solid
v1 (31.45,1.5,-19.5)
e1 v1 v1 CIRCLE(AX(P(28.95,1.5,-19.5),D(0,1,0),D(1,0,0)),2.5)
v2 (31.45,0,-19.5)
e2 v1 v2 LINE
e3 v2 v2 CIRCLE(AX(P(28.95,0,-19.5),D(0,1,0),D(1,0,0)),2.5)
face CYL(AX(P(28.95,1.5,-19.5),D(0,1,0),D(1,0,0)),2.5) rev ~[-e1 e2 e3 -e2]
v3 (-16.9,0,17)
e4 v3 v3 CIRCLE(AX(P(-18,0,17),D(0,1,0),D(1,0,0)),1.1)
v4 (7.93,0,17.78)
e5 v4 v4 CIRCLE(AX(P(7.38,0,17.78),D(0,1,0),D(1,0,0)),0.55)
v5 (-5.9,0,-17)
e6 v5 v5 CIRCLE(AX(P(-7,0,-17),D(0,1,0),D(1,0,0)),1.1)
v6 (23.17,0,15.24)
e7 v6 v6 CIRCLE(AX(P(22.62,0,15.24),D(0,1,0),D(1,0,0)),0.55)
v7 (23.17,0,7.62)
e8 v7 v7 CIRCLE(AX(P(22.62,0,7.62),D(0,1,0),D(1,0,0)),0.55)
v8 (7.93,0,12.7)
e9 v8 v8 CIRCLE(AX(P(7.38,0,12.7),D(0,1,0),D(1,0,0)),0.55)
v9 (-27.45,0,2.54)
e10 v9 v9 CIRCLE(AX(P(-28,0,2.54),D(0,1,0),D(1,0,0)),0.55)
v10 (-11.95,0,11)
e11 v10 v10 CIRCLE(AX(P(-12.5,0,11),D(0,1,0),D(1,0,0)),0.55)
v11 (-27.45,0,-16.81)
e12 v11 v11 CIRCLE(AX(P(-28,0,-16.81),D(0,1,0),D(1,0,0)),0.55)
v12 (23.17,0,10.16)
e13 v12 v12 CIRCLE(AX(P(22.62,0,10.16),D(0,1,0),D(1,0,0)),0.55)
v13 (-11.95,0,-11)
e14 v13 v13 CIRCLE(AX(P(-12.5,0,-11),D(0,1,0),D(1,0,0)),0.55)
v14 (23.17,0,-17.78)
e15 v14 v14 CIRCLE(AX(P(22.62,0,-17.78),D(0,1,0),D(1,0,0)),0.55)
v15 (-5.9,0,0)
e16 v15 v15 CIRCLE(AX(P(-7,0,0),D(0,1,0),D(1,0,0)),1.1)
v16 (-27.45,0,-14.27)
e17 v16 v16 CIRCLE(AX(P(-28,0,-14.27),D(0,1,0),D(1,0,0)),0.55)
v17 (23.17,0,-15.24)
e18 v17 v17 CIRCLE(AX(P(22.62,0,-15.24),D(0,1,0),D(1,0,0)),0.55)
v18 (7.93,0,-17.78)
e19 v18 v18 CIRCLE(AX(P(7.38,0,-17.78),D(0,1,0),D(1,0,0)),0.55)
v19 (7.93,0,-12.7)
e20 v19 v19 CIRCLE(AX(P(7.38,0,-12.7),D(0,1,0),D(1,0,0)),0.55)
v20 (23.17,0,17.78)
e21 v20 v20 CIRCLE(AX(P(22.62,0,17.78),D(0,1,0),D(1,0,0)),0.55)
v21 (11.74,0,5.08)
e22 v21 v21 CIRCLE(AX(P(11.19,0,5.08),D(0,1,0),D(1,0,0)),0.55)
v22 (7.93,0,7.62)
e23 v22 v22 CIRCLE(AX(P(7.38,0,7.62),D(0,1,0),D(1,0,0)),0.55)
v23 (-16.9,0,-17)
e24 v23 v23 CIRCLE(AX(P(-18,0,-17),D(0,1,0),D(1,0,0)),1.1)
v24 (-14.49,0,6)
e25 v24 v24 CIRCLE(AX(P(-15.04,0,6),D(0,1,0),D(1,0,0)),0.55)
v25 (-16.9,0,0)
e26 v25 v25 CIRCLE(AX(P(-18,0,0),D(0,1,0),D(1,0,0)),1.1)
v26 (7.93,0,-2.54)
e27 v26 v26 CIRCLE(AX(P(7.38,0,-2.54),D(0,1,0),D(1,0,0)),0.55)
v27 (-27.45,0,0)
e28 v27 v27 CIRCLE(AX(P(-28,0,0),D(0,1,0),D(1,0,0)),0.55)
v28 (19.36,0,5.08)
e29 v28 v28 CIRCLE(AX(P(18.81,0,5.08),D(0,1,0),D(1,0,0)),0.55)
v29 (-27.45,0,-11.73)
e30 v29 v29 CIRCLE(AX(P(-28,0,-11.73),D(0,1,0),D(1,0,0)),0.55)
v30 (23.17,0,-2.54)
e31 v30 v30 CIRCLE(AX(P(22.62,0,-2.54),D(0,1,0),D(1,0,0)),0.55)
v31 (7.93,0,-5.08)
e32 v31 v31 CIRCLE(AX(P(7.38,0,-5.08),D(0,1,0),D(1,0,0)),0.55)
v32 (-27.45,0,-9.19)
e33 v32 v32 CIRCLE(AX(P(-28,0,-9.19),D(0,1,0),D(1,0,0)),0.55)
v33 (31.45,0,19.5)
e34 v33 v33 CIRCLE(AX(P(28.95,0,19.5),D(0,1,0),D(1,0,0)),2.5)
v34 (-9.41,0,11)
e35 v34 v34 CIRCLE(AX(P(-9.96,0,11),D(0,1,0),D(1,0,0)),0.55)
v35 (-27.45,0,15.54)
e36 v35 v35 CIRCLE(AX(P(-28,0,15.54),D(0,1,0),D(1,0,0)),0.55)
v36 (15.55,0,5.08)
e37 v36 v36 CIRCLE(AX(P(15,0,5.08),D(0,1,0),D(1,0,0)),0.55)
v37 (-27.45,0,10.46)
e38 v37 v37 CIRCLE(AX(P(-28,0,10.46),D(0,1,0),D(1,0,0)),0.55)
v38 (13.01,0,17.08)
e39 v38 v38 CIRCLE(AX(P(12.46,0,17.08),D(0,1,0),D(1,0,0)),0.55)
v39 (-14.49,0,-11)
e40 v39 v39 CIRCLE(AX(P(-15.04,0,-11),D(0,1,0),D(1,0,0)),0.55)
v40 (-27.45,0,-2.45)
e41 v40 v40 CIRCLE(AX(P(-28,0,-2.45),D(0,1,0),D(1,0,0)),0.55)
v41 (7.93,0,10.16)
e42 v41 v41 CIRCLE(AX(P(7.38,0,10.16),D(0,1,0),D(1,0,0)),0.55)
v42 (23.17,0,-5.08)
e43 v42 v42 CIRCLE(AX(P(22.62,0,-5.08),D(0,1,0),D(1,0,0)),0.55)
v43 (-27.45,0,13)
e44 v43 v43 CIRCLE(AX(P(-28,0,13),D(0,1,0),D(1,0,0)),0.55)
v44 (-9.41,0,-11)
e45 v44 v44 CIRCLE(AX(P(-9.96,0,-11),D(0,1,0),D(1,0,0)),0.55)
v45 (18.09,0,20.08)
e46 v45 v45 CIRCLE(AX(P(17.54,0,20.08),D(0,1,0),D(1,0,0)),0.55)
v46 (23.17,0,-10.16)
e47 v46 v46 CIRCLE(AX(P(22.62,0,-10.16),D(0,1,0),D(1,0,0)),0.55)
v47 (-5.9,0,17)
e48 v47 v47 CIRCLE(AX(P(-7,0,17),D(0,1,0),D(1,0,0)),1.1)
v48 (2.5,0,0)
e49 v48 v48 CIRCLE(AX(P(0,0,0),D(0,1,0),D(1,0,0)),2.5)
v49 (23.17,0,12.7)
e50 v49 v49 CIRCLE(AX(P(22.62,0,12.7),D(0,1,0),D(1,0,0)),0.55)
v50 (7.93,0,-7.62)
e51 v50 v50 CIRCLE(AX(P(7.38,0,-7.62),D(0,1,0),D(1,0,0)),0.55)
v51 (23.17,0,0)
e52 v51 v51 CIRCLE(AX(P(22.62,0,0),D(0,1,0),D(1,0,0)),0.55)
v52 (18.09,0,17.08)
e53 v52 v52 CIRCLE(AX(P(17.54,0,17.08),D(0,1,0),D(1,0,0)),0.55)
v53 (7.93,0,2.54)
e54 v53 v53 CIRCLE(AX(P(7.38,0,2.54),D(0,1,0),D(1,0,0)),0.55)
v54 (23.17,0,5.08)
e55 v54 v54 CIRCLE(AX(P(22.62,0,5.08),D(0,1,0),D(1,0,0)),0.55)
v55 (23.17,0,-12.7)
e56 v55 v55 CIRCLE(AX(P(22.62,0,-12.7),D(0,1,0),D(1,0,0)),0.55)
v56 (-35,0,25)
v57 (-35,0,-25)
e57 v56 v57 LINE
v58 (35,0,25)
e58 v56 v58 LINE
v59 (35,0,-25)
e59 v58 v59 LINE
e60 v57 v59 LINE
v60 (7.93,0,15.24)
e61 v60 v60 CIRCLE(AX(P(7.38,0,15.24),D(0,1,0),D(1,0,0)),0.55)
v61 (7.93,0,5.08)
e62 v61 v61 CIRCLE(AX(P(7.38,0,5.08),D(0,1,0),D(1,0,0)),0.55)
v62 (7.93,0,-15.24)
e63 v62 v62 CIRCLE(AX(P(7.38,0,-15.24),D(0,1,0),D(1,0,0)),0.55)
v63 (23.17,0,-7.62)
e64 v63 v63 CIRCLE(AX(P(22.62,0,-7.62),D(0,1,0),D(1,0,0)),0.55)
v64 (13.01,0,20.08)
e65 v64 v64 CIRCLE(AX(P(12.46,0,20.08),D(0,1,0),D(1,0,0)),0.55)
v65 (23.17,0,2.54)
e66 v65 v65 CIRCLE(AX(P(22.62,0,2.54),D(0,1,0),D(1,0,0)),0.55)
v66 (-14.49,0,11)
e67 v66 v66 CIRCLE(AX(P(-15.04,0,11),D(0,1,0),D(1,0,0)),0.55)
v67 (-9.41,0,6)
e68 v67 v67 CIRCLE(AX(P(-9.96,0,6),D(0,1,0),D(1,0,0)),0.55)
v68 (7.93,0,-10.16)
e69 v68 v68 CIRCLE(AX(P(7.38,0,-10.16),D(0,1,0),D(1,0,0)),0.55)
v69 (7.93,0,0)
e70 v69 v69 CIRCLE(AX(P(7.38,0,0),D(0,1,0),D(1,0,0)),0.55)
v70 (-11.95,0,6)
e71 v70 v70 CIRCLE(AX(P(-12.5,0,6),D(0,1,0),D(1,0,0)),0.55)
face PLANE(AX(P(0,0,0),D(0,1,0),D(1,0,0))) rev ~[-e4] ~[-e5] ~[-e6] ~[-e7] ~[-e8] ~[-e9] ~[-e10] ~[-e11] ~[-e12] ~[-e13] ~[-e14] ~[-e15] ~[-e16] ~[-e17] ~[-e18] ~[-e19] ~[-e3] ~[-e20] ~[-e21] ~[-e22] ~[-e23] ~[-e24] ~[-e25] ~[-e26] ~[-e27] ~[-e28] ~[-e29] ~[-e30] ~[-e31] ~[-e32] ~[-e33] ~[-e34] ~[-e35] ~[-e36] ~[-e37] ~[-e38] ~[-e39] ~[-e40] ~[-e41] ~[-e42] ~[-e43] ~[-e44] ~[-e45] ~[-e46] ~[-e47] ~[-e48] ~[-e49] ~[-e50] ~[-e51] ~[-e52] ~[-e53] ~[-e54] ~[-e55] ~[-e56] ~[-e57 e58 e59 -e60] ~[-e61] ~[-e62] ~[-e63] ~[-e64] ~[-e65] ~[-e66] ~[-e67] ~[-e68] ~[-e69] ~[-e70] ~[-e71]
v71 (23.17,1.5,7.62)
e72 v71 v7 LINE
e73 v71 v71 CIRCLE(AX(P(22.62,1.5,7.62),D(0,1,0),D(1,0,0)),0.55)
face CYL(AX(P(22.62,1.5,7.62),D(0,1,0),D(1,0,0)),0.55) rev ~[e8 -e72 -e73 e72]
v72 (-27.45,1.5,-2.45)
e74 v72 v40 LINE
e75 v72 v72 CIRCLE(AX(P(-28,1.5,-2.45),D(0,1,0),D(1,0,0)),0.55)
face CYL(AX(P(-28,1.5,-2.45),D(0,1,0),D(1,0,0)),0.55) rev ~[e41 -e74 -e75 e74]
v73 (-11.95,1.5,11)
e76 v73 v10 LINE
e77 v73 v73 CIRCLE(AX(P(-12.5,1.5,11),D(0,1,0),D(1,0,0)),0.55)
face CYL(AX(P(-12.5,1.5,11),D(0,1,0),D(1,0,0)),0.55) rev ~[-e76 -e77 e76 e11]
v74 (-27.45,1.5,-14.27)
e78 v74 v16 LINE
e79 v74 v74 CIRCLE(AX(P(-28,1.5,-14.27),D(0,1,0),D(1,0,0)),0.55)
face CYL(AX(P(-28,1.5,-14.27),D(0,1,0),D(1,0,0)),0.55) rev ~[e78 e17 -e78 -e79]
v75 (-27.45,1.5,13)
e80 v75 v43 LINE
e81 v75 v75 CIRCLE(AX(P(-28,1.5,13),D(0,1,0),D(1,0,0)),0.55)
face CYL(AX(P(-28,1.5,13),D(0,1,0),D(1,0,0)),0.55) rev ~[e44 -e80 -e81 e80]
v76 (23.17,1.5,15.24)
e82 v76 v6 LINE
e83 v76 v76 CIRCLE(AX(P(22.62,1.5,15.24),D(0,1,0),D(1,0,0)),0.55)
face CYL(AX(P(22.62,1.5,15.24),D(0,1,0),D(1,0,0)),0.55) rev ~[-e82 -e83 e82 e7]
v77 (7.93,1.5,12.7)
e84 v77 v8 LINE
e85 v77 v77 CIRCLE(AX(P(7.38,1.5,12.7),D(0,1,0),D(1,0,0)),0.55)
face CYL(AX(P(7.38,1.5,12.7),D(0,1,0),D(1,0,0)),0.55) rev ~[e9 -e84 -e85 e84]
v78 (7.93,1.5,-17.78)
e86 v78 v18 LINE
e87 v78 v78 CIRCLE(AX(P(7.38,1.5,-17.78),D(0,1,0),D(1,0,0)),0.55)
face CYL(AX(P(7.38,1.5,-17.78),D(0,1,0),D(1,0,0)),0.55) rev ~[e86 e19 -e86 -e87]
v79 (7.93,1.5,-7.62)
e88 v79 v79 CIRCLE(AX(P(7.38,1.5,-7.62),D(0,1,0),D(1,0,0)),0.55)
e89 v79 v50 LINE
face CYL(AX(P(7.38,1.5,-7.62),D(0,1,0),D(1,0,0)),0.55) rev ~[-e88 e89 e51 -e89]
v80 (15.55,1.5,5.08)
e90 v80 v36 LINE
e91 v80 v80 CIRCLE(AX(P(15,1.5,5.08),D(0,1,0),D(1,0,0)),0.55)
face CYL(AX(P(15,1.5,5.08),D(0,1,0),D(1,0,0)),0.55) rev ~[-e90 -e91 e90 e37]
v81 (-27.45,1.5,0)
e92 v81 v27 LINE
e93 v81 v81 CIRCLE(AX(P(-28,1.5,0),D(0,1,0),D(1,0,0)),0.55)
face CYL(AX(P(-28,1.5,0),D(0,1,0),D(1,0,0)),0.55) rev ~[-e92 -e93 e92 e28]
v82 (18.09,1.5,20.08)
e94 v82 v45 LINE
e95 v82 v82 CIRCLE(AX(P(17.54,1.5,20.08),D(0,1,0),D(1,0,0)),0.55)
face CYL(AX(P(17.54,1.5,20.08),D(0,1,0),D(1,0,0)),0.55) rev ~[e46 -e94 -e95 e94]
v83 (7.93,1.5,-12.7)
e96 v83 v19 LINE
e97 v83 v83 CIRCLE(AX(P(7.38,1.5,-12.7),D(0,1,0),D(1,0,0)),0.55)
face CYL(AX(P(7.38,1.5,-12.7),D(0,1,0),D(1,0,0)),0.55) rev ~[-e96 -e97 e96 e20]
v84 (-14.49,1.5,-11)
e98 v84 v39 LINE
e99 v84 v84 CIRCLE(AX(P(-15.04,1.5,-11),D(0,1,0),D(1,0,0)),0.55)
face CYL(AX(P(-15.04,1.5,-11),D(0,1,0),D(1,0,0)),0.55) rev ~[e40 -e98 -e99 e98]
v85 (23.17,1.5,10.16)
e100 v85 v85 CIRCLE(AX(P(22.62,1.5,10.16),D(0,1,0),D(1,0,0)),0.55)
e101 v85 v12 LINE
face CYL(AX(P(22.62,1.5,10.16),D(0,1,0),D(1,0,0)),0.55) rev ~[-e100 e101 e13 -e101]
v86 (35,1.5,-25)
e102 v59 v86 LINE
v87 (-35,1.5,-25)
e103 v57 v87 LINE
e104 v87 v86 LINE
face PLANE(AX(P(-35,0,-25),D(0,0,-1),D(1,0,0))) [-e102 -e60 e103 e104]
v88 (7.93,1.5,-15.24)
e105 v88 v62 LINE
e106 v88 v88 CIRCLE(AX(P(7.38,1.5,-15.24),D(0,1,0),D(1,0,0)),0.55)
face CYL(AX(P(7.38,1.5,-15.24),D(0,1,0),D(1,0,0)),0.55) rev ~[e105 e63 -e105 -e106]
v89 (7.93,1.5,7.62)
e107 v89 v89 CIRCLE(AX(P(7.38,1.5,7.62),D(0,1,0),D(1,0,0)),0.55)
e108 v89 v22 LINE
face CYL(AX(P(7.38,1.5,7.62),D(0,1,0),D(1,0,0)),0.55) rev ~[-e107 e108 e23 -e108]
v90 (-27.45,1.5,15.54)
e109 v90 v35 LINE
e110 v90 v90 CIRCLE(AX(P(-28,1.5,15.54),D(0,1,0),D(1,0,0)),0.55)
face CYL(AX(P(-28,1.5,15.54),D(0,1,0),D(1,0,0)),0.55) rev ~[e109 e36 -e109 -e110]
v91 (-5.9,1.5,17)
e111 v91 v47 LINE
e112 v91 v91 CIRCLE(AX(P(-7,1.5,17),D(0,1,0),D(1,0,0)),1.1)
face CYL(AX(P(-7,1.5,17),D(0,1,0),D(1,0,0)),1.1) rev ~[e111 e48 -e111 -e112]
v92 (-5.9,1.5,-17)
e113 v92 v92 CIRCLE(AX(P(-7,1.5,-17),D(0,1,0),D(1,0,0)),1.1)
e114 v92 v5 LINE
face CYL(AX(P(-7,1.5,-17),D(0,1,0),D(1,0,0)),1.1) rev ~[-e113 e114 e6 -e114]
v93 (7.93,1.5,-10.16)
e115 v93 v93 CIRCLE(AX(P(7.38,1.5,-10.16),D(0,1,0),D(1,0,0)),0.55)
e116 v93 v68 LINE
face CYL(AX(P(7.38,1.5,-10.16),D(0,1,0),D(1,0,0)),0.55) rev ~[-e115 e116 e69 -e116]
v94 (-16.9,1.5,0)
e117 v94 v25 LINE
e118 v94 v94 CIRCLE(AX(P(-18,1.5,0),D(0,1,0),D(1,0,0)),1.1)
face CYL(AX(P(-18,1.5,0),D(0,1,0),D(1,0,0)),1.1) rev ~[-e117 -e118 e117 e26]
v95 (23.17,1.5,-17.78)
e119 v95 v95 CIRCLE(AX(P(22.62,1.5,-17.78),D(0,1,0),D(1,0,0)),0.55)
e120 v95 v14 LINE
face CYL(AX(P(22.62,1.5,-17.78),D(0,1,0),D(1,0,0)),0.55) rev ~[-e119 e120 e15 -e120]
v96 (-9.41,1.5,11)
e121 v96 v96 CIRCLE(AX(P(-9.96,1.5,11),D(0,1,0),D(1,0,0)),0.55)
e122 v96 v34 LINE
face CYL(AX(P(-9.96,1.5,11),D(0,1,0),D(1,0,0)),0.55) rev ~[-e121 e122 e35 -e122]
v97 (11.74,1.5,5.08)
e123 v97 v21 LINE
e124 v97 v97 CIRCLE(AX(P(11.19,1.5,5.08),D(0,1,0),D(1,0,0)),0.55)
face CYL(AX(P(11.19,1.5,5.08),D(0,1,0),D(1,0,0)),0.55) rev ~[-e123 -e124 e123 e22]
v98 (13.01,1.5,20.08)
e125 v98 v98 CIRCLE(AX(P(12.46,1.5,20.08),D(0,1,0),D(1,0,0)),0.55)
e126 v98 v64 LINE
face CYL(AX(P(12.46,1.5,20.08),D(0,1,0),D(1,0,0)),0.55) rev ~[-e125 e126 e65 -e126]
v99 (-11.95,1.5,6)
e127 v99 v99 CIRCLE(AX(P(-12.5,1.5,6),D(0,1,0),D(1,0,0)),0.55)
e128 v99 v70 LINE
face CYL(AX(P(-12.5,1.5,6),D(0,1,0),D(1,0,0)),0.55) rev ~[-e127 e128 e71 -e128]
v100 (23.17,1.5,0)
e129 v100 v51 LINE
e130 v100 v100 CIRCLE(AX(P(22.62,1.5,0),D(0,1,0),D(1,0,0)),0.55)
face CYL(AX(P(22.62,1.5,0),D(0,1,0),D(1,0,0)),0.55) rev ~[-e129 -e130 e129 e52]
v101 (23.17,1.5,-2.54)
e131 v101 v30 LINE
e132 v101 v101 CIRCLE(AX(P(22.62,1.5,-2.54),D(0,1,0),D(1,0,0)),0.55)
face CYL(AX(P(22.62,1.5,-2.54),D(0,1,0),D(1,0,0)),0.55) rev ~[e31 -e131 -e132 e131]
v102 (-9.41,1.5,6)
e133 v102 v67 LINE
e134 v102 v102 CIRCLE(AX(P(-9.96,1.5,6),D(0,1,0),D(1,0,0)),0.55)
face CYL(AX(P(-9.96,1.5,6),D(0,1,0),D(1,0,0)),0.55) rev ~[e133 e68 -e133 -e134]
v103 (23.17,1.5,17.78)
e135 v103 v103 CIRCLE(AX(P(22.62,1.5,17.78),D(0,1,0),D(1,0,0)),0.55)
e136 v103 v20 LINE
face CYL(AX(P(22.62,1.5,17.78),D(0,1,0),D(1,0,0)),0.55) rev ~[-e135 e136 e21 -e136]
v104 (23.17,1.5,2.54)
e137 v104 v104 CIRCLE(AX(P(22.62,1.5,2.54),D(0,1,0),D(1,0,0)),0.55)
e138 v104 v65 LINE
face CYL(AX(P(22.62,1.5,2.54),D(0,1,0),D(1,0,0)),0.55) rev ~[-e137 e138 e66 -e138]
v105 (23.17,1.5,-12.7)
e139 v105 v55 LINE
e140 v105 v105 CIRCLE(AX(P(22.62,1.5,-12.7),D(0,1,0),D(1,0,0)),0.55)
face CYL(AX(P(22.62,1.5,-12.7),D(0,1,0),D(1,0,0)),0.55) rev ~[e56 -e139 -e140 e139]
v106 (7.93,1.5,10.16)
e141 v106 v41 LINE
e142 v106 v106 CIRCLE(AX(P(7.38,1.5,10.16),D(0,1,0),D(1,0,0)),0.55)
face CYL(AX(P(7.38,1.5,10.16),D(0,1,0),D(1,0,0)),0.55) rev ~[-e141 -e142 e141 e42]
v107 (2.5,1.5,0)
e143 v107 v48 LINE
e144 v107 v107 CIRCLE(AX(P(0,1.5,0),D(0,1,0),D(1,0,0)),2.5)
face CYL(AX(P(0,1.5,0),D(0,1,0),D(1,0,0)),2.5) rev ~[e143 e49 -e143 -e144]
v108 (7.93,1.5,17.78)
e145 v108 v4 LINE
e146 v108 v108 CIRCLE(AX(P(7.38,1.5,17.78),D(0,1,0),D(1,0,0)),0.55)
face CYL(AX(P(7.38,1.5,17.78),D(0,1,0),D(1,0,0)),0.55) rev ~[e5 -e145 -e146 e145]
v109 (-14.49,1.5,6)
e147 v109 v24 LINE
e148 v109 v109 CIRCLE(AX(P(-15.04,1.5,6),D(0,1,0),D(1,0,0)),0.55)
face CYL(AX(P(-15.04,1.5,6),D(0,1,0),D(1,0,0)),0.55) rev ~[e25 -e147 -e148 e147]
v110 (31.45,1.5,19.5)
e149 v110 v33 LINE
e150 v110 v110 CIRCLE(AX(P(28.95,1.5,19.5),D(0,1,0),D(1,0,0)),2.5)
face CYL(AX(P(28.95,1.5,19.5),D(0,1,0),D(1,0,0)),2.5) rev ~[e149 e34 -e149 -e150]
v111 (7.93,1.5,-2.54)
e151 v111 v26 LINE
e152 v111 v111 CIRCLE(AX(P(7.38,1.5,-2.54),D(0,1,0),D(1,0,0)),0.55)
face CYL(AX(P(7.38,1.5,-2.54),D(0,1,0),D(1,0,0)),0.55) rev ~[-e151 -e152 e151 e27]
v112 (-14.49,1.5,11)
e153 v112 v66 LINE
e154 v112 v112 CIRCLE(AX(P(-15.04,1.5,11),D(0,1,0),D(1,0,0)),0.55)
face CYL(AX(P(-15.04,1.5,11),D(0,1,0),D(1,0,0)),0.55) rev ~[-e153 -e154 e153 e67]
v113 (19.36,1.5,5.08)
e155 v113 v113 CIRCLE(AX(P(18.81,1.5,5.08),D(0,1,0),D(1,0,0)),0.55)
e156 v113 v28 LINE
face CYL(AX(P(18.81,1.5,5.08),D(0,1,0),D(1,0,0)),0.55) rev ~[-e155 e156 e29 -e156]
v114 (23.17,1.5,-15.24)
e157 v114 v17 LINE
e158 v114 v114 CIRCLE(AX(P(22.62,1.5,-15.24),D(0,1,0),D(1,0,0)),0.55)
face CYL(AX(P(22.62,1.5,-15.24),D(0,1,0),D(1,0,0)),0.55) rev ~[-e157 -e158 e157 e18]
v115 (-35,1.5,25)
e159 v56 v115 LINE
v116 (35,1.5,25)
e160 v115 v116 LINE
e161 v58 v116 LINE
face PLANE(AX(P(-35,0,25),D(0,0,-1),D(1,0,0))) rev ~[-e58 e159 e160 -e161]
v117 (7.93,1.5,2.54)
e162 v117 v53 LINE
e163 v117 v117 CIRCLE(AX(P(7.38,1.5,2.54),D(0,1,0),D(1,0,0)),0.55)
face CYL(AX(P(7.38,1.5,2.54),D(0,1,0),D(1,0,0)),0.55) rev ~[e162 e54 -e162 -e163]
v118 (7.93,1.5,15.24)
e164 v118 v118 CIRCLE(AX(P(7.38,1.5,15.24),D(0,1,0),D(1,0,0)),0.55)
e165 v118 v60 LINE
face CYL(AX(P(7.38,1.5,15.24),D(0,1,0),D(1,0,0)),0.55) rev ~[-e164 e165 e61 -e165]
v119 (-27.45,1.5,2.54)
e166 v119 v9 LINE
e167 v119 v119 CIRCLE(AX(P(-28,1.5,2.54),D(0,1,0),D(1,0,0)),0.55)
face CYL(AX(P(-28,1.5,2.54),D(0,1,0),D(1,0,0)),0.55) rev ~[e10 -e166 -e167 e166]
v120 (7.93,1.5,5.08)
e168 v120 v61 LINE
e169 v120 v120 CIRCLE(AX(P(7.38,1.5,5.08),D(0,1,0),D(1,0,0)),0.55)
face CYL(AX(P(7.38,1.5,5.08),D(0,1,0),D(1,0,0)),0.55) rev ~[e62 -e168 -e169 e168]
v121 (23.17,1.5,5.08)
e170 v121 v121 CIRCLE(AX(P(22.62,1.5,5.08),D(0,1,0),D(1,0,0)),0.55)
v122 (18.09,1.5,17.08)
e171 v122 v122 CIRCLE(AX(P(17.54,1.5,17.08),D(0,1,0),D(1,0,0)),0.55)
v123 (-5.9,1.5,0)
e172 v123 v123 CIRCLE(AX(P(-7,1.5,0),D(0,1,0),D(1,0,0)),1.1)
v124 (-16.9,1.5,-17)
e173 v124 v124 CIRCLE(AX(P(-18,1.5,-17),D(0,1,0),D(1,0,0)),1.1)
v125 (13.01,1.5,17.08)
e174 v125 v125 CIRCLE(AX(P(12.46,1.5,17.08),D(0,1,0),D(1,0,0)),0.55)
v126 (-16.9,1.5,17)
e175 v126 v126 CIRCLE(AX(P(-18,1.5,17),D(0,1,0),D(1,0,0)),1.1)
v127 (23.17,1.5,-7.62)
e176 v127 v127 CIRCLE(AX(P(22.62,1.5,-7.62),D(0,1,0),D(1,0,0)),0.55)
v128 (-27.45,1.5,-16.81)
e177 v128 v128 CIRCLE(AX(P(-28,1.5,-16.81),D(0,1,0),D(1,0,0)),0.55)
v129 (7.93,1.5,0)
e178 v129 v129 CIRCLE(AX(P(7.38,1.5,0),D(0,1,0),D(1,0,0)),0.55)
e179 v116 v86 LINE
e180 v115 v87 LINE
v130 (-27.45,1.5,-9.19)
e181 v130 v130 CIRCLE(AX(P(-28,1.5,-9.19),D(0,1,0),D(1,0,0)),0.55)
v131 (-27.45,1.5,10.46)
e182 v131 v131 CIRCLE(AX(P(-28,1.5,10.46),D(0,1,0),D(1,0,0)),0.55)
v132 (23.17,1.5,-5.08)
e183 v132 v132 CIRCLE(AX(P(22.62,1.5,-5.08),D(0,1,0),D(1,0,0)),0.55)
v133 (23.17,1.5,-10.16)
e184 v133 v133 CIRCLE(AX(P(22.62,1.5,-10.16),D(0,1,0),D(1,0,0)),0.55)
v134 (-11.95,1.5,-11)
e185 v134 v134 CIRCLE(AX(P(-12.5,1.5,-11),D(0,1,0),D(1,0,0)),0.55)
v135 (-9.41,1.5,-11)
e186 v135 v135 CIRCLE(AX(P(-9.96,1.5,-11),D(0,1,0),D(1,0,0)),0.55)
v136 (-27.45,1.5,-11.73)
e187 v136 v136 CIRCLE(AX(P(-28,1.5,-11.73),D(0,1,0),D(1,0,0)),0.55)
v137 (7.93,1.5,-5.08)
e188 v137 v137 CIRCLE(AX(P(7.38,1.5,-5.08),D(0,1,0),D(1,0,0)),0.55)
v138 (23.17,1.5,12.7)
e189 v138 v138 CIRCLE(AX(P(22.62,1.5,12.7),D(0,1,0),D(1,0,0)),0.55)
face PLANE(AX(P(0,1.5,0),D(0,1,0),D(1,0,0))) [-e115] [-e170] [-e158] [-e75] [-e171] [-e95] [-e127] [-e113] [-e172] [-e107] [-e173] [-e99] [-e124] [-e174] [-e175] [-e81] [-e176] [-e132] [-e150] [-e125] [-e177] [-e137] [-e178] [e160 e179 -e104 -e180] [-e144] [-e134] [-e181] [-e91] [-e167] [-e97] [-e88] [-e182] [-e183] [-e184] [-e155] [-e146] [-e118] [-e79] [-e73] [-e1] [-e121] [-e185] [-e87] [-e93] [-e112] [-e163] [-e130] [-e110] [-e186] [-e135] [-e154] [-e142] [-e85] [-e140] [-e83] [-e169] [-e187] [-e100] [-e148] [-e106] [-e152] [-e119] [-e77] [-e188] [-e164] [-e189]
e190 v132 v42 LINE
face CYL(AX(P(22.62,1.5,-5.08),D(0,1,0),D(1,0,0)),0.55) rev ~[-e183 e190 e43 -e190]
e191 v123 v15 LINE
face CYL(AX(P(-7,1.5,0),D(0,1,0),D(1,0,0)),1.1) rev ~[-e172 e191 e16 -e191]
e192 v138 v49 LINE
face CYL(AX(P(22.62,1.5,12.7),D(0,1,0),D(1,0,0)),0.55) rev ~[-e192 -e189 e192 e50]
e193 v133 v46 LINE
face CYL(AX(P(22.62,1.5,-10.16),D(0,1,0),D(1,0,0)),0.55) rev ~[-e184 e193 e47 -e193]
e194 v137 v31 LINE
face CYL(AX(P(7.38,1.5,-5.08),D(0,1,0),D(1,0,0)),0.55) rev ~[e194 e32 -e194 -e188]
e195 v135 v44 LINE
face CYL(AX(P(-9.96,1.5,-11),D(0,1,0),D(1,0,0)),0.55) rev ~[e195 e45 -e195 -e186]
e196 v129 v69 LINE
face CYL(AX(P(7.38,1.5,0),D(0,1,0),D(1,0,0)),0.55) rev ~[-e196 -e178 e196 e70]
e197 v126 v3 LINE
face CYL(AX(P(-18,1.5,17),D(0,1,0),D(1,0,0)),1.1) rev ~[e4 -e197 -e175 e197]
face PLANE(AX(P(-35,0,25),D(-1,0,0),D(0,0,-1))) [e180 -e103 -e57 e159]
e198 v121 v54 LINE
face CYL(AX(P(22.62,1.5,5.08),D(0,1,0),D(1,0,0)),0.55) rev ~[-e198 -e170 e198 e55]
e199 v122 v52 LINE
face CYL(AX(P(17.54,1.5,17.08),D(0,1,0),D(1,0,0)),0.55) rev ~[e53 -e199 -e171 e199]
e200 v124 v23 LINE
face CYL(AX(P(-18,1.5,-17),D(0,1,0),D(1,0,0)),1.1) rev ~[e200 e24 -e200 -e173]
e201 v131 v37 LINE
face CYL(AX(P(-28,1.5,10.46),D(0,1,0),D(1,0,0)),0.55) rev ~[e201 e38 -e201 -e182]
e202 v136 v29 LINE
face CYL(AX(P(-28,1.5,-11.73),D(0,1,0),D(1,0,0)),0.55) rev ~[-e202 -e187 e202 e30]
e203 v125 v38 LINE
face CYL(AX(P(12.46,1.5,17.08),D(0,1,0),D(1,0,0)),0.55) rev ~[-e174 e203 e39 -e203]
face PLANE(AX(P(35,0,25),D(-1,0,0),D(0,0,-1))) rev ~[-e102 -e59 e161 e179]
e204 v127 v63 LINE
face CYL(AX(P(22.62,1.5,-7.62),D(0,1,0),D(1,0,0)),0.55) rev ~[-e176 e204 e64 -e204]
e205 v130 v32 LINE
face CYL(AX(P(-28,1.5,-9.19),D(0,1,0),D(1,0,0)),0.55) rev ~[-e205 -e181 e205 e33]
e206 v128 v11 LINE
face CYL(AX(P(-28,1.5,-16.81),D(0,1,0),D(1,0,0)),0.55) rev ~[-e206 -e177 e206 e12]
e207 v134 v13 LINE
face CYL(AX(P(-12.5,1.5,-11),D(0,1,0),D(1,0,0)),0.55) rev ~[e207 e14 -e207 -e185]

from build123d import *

# Parameters (mm, degrees)
SKETCH1_W           = 70
SKETCH1_H           = 50
BOSS_EXTRUDE1_DEPTH = 1.5
SKETCH2_R           = 2.5
CUT_EXTRUDE1_DEPTH  = 2.5
SKETCH4_R           = 1.1
SKETCH4_R_2         = 0.55
CUT_EXTRUDE2_DEPTH  = 2.5


with BuildPart() as part:
    # Sketch1 → Boss-Extrude1 (new body)
    with BuildSketch(Plane(origin=(0, 0, 0), x_dir=(1, 0, 0), z_dir=(0, 1, 0))):
        Rectangle(SKETCH1_W, SKETCH1_H)
    extrude(amount=BOSS_EXTRUDE1_DEPTH)

    # Sketch2 → Cut-Extrude1 (cut, through all)
    with BuildSketch(Plane(origin=(0, 1.5, 0), x_dir=(1, 0, 0), z_dir=(0, 1, 0))):
        Circle(SKETCH2_R)
        with Locations((28.95, 19.5)):
            Circle(SKETCH2_R)
        with Locations((28.95, -19.5)):
            Circle(SKETCH2_R)
    extrude(amount=-CUT_EXTRUDE1_DEPTH, mode=Mode.SUBTRACT)

    # Sketch4 → Cut-Extrude2 (cut, through all)
    with BuildSketch(Plane(origin=(0, 1.5, 0), x_dir=(1, 0, 0), z_dir=(0, 1, 0))):
        with Locations((-18, 0)):
            Circle(SKETCH4_R)
        with Locations((-7, 0)):
            Circle(SKETCH4_R)
        with Locations((-12.5, -6)):
            Circle(SKETCH4_R_2)
        with Locations((-9.96, -6)):
            Circle(SKETCH4_R_2)
        with Locations((-15.04, -6)):
            Circle(SKETCH4_R_2)
        with Locations((-12.5, 11)):
            Circle(SKETCH4_R_2)
        with Locations((-9.96, 11)):
            Circle(SKETCH4_R_2)
        with Locations((-15.04, 11)):
            Circle(SKETCH4_R_2)
        with Locations((-18, 17)):
            Circle(SKETCH4_R)
        with Locations((-7, 17)):
            Circle(SKETCH4_R)
        with Locations((-18, -17)):
            Circle(SKETCH4_R)
        with Locations((-7, -17)):
            Circle(SKETCH4_R)
        with Locations((7.38, 0)):
            Circle(SKETCH4_R_2)
        with Locations((22.62, 0)):
            Circle(SKETCH4_R_2)
        with Locations((7.38, 2.54)):
            Circle(SKETCH4_R_2)
        with Locations((7.38, 5.08)):
            Circle(SKETCH4_R_2)
        with Locations((7.38, 7.62)):
            Circle(SKETCH4_R_2)
        with Locations((7.38, 10.16)):
            Circle(SKETCH4_R_2)
        with Locations((7.38, 12.7)):
            Circle(SKETCH4_R_2)
        with Locations((7.38, 15.24)):
            Circle(SKETCH4_R_2)
        with Locations((7.38, 17.78)):
            Circle(SKETCH4_R_2)
        with Locations((22.62, 2.54)):
            Circle(SKETCH4_R_2)
        with Locations((22.62, 5.08)):
            Circle(SKETCH4_R_2)
        with Locations((22.62, 7.62)):
            Circle(SKETCH4_R_2)
        with Locations((22.62, 10.16)):
            Circle(SKETCH4_R_2)
        with Locations((22.62, 12.7)):
            Circle(SKETCH4_R_2)
        with Locations((22.62, 15.24)):
            Circle(SKETCH4_R_2)
        with Locations((22.62, 17.78)):
            Circle(SKETCH4_R_2)
        with Locations((22.62, -17.78)):
            Circle(SKETCH4_R_2)
        with Locations((22.62, -15.24)):
            Circle(SKETCH4_R_2)
        with Locations((22.62, -12.7)):
            Circle(SKETCH4_R_2)
        with Locations((22.62, -10.16)):
            Circle(SKETCH4_R_2)
        with Locations((22.62, -7.62)):
            Circle(SKETCH4_R_2)
        with Locations((22.62, -5.08)):
            Circle(SKETCH4_R_2)
        with Locations((22.62, -2.54)):
            Circle(SKETCH4_R_2)
        with Locations((7.38, -17.78)):
            Circle(SKETCH4_R_2)
        with Locations((7.38, -15.24)):
            Circle(SKETCH4_R_2)
        with Locations((7.38, -12.7)):
            Circle(SKETCH4_R_2)
        with Locations((7.38, -10.16)):
            Circle(SKETCH4_R_2)
        with Locations((7.38, -7.62)):
            Circle(SKETCH4_R_2)
        with Locations((7.38, -5.08)):
            Circle(SKETCH4_R_2)
        with Locations((7.38, -2.54)):
            Circle(SKETCH4_R_2)
        with Locations((-28, -13)):
            Circle(SKETCH4_R_2)
        with Locations((-28, -10.46)):
            Circle(SKETCH4_R_2)
        with Locations((-28, -15.54)):
            Circle(SKETCH4_R_2)
        with Locations((-28, 11.73)):
            Circle(SKETCH4_R_2)
        with Locations((-28, 14.27)):
            Circle(SKETCH4_R_2)
        with Locations((-28, 9.19)):
            Circle(SKETCH4_R_2)
        with Locations((-28, 16.81)):
            Circle(SKETCH4_R_2)
        with Locations((-9.96, -11)):
            Circle(SKETCH4_R_2)
        with Locations((-12.5, -11)):
            Circle(SKETCH4_R_2)
        with Locations((-15.04, -11)):
            Circle(SKETCH4_R_2)
        with Locations((11.19, -5.08)):
            Circle(SKETCH4_R_2)
        with Locations((15, -5.08)):
            Circle(SKETCH4_R_2)
        with Locations((18.81, -5.08)):
            Circle(SKETCH4_R_2)
        with Locations((12.46, -20.08)):
            Circle(SKETCH4_R_2)
        with Locations((17.54, -20.08)):
            Circle(SKETCH4_R_2)
        with Locations((17.54, -17.08)):
            Circle(SKETCH4_R_2)
        with Locations((-28, 0)):
            Circle(SKETCH4_R_2)
        with Locations((-28, -2.54)):
            Circle(SKETCH4_R_2)
        with Locations((-28, 2.45)):
            Circle(SKETCH4_R_2)
        with Locations((12.46, -17.08)):
            Circle(SKETCH4_R_2)
    extrude(amount=-CUT_EXTRUDE2_DEPTH, mode=Mode.SUBTRACT)


solid = part.part
